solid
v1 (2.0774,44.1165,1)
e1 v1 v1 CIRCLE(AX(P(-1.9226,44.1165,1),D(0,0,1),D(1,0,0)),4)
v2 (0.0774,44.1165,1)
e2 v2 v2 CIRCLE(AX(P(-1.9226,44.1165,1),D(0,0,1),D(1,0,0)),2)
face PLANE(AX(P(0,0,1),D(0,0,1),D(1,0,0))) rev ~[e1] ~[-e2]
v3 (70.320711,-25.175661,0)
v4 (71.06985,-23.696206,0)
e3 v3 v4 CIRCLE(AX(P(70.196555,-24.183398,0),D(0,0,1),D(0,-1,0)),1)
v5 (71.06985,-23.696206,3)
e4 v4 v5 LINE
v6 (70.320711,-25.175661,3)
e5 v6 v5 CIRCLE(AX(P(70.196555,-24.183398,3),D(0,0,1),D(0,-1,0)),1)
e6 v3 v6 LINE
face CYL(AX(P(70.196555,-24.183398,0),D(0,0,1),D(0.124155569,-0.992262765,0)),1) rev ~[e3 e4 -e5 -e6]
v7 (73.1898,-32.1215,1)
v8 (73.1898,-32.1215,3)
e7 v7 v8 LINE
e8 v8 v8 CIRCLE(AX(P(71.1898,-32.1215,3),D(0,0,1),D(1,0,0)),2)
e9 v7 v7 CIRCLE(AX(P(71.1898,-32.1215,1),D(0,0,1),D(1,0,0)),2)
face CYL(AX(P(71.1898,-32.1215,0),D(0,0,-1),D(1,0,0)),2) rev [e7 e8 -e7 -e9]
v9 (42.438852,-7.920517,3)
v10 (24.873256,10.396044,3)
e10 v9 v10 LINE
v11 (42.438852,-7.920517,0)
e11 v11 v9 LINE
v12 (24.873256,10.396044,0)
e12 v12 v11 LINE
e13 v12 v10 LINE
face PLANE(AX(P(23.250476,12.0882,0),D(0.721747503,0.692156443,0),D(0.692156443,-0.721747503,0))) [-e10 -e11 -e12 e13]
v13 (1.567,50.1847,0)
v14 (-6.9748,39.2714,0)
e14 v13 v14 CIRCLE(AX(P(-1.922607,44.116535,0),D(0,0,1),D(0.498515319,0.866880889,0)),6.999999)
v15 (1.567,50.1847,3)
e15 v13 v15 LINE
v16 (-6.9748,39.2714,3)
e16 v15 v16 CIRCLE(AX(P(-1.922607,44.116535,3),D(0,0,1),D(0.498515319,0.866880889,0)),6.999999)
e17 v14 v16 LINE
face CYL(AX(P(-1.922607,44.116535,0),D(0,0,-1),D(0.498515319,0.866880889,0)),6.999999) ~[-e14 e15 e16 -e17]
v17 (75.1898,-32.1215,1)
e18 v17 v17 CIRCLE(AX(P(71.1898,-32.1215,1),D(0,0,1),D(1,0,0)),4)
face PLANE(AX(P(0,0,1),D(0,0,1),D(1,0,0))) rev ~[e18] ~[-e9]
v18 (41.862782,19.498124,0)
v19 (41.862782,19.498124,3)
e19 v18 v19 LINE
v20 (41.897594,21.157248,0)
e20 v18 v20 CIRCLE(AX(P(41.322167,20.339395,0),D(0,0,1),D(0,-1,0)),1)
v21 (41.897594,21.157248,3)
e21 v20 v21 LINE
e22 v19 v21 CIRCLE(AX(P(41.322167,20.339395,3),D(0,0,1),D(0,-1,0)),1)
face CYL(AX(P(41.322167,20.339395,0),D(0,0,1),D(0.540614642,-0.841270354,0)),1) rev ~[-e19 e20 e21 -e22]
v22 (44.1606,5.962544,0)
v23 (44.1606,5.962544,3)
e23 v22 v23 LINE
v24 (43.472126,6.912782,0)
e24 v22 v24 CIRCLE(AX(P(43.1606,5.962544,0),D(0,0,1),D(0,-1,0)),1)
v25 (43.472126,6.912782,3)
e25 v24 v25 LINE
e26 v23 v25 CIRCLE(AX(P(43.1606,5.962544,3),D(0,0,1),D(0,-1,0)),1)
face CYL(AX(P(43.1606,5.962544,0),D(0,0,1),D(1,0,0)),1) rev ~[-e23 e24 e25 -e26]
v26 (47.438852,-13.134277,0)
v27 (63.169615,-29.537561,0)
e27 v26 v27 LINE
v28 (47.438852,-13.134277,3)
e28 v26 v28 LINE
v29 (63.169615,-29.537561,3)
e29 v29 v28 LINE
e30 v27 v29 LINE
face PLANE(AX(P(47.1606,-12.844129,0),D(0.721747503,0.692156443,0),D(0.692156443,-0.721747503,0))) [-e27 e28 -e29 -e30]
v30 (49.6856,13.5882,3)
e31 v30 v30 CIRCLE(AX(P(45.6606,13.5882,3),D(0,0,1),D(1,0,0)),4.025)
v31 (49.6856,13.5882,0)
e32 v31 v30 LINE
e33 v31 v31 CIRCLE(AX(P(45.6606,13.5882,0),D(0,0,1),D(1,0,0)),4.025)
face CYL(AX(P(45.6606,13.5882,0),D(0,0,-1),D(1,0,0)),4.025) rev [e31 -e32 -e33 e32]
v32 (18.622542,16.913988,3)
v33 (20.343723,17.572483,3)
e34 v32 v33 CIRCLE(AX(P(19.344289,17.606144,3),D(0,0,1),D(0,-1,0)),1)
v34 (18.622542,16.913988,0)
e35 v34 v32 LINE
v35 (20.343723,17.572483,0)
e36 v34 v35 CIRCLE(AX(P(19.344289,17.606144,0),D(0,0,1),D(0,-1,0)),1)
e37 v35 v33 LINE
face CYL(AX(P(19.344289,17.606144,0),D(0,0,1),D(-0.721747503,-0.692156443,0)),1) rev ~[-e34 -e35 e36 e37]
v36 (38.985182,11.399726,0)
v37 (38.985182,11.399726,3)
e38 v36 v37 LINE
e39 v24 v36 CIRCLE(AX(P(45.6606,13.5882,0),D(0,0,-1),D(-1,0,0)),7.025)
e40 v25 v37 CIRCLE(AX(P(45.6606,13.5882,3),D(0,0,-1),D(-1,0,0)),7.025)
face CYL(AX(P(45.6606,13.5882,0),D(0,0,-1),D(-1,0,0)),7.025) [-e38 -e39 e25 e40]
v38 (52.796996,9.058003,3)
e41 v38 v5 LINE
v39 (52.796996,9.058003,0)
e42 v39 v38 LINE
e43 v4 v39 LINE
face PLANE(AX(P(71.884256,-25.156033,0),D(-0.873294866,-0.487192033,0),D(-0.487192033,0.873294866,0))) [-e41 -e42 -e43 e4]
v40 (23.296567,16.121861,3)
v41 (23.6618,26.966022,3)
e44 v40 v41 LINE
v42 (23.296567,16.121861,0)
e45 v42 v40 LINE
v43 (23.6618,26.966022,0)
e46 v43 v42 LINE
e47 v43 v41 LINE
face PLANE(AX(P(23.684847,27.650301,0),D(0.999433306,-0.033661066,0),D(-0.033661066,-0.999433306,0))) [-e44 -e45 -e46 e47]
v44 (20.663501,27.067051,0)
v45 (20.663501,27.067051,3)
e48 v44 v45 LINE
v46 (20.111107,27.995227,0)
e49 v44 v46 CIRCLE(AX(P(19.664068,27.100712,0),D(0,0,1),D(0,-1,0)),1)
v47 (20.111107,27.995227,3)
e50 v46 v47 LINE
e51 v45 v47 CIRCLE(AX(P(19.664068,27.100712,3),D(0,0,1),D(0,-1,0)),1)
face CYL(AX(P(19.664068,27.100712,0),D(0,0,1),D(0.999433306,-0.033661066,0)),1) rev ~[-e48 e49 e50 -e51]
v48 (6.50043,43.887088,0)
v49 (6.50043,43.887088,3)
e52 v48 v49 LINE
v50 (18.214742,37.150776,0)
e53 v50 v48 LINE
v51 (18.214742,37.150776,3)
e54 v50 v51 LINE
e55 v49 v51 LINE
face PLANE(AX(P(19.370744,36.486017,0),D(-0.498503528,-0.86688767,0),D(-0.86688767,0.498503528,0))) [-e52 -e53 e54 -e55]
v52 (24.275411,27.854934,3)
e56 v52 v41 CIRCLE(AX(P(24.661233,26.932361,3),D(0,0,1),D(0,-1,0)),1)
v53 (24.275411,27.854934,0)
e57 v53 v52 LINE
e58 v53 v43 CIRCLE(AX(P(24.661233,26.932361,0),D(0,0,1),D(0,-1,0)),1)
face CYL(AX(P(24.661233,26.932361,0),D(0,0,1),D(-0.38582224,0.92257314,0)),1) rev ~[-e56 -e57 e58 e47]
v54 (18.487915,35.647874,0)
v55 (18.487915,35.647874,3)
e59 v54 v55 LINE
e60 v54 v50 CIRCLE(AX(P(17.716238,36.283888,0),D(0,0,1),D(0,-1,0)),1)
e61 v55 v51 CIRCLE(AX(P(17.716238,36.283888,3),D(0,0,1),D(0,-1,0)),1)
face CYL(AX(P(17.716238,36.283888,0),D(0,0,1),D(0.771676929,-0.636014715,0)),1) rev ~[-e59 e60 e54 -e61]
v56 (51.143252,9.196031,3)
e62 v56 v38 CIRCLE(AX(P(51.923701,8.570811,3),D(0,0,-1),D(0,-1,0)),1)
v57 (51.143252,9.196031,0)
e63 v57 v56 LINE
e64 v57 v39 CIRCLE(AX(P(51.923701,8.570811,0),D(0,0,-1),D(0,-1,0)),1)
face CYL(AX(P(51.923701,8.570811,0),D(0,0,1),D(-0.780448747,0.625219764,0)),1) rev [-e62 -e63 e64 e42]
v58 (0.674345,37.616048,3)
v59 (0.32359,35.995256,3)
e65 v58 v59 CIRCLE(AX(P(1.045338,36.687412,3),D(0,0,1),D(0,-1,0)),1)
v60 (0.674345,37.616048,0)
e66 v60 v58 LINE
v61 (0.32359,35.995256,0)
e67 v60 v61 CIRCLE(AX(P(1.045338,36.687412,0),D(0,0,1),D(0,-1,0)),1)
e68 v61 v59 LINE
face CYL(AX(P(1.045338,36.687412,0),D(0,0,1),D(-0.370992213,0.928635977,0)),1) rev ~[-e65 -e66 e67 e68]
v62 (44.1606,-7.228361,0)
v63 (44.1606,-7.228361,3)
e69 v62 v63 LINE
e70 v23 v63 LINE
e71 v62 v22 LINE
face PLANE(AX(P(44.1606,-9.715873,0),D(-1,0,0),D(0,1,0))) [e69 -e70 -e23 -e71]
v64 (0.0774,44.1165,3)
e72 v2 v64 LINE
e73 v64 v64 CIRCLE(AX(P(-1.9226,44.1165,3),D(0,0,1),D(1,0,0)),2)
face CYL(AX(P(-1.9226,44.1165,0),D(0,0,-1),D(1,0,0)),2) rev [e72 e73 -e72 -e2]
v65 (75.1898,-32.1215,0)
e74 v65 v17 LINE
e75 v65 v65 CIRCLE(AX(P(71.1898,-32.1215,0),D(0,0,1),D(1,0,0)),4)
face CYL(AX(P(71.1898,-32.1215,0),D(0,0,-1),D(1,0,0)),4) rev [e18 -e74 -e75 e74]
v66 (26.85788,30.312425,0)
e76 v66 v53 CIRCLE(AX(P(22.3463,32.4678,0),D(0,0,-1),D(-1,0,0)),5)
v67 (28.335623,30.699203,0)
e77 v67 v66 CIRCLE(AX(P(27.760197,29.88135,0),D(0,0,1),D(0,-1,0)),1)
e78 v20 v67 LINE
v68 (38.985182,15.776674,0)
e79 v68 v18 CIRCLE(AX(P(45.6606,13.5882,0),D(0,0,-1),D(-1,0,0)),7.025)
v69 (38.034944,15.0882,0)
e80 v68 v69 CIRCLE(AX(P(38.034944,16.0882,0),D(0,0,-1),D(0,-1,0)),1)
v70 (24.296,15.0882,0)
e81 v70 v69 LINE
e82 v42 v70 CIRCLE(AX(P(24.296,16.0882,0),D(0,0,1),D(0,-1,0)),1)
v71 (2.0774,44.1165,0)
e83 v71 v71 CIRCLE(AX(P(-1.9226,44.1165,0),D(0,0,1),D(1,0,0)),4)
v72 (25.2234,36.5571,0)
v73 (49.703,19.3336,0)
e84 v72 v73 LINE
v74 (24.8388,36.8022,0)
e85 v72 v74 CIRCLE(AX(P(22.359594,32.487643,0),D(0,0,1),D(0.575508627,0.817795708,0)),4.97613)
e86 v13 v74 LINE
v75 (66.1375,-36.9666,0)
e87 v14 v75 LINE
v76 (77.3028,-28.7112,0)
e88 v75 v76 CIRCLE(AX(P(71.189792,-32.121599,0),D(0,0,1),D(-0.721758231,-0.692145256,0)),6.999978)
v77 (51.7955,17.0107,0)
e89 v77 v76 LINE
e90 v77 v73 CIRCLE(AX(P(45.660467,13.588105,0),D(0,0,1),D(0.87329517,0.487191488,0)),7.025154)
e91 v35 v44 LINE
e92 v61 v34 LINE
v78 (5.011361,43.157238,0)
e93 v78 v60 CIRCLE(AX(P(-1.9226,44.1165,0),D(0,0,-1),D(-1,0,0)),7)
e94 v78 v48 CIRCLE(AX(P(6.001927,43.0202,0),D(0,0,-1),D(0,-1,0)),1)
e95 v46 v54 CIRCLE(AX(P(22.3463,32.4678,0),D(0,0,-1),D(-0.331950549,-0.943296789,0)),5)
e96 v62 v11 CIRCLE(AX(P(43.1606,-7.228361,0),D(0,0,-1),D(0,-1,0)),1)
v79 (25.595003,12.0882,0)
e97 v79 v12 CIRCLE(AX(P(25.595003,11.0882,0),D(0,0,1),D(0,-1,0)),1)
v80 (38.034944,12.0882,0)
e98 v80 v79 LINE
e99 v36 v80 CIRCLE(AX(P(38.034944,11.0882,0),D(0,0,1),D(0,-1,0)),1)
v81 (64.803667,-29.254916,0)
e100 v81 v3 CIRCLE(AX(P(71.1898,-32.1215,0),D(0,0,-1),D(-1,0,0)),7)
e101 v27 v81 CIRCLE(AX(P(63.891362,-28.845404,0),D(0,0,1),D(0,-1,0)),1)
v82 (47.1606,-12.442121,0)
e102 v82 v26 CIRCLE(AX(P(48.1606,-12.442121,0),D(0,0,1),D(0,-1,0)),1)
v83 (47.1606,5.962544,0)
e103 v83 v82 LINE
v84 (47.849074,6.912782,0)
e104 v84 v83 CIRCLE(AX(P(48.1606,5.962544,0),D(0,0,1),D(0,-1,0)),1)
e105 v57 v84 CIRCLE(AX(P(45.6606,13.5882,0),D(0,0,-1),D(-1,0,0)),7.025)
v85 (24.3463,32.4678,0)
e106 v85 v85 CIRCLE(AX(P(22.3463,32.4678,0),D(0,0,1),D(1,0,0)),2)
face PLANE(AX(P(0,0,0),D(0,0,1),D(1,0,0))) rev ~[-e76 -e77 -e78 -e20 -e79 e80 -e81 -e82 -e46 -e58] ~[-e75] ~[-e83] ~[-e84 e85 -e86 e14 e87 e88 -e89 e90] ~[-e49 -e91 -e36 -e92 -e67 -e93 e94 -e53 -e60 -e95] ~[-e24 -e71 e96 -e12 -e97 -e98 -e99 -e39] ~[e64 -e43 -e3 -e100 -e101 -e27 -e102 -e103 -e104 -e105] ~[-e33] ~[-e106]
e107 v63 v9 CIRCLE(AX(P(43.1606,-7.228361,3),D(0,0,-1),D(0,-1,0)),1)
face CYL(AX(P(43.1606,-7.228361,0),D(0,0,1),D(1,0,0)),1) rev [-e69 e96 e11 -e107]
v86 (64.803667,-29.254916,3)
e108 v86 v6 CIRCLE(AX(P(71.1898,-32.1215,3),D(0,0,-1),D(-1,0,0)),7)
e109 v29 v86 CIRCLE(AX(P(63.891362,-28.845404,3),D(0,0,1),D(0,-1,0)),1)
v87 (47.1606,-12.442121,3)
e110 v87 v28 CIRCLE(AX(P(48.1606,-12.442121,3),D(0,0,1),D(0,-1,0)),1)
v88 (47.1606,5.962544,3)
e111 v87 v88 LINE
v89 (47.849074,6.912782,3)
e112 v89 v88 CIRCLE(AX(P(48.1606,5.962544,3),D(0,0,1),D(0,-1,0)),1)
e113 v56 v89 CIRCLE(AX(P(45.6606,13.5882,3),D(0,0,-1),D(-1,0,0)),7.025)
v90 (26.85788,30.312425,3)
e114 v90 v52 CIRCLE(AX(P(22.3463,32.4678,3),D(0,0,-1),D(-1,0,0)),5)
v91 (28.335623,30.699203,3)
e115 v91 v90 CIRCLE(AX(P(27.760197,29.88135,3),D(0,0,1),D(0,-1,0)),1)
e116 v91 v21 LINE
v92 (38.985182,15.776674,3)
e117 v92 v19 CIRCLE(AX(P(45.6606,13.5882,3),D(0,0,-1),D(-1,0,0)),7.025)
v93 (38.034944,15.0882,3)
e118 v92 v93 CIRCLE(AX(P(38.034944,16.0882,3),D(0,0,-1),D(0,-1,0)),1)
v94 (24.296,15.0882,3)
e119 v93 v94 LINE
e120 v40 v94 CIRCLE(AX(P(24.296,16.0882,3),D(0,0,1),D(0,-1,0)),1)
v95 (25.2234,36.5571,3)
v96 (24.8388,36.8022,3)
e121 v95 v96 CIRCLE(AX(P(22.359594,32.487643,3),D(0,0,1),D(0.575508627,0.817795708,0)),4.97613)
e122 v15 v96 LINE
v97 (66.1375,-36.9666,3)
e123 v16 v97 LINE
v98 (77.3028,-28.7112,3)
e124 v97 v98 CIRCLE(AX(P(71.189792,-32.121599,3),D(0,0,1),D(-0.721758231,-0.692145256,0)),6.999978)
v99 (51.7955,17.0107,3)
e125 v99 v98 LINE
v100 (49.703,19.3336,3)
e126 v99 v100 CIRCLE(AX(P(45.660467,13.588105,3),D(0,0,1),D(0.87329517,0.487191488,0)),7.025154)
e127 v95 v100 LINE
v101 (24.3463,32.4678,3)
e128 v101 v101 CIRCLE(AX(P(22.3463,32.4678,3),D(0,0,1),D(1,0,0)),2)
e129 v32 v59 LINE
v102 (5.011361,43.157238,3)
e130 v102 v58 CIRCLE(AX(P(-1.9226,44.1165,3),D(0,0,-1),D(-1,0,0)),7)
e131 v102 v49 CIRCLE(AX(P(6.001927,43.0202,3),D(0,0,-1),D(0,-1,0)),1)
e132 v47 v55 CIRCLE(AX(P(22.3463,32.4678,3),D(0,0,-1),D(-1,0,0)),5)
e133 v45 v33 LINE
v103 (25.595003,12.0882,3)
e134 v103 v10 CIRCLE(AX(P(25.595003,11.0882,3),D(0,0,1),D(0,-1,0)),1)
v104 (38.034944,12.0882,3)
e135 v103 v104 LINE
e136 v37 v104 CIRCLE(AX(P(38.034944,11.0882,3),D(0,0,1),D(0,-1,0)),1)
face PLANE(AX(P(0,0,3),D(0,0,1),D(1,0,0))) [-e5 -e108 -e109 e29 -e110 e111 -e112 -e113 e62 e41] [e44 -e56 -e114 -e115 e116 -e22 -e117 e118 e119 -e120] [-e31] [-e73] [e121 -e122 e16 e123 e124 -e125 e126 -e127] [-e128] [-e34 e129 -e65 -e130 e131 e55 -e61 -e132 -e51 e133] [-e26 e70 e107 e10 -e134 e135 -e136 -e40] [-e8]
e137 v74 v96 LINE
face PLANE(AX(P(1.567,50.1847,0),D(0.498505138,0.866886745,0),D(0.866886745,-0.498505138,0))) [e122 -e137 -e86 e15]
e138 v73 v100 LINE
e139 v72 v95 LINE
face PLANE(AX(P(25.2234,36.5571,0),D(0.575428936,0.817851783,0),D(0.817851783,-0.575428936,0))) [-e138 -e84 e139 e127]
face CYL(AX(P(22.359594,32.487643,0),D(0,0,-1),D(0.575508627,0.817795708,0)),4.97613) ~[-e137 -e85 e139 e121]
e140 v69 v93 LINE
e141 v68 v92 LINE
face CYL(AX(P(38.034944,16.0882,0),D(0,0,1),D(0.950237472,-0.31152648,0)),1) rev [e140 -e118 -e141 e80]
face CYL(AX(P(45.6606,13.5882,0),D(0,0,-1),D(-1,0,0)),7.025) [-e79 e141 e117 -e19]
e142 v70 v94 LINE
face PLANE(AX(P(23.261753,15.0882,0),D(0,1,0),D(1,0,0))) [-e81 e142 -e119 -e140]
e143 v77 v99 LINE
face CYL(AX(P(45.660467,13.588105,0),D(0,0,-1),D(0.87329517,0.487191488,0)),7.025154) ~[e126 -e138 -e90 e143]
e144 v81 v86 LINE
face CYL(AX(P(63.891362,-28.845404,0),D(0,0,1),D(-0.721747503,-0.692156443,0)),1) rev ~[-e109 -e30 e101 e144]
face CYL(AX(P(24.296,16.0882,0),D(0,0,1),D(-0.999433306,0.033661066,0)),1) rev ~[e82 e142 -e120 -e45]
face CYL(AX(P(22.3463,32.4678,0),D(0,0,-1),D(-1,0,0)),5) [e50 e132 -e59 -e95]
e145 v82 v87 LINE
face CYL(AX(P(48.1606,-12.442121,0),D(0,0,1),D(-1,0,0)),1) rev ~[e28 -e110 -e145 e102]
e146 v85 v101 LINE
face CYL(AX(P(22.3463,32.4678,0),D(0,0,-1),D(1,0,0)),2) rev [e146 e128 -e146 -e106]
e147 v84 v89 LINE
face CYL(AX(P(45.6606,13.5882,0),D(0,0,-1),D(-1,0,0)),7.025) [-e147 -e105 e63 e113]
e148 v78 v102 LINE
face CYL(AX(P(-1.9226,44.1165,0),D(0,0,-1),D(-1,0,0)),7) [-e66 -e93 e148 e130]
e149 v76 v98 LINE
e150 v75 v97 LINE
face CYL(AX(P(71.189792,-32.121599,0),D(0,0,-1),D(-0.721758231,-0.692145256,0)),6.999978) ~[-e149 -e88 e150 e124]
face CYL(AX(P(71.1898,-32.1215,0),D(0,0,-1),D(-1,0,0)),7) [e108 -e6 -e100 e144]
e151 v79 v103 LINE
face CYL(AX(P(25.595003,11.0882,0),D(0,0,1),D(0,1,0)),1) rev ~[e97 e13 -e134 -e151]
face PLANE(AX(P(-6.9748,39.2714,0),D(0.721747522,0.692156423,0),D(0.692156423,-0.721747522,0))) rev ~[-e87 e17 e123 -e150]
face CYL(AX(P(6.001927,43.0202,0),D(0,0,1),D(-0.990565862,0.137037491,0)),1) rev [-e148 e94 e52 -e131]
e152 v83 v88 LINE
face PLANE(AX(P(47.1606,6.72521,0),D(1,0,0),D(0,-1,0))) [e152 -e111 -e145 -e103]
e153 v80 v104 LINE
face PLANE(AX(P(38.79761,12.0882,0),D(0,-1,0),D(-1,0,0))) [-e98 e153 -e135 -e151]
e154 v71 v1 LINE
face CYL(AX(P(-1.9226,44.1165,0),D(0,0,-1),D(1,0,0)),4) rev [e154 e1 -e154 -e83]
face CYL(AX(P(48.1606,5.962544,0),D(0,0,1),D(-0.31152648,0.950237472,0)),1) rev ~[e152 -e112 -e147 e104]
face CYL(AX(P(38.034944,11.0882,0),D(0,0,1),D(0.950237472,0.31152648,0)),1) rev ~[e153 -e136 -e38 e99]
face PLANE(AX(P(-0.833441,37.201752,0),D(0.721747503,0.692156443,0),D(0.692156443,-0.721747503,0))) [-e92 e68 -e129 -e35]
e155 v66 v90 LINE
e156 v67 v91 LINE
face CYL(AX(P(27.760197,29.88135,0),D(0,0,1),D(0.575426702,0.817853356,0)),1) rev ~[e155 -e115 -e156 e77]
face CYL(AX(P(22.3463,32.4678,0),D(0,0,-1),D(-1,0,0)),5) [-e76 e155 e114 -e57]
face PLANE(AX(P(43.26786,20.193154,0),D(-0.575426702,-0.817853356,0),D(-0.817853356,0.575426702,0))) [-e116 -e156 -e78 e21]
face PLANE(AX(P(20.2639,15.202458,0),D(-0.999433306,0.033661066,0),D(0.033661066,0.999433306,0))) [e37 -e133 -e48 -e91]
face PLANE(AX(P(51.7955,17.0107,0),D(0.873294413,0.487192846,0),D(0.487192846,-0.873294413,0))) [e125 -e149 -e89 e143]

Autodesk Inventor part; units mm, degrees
ref_plane "YZ Plane" through (0, 0, 0) normal (1, 0, 0) x (0, 1, 0)
ref_plane "XZ Plane" through (0, 0, 0) normal (0, 1, 0) x (-1, 0, 0)
ref_plane "XY Plane" through (0, 0, 0) normal (0, 0, 1) x (1, 0, 0)
sketch "スケッチ1" plane through (0, 0, 0) normal (0, 0, 1) x (1, 0, 0)
  circle A0 centre (-1.9226, 44.1165) radius 4
  circle A1 centre (71.1898, -32.1215) radius 4
  circle A2 centre (71.1898, -32.1215) radius 2
  circle A3 centre (-1.9226, 44.1165) radius 2
  circle A4 centre (22.3463, 32.4678) radius 2
  circle A5 centre (45.6606, 13.5882) radius 4.025
  arc A6 (1.567, 50.1847) -> (-6.9748, 39.2714) centre (-1.9226, 44.1165) ccw
  arc A7 (66.1375, -36.9666) -> (77.3028, -28.7112) centre (71.1898, -32.1215) ccw
  arc A8 (51.7955, 17.0107) -> (49.703, 19.3336) centre (45.6606, 13.5882) ccw
  arc A9 (25.2234, 36.5571) -> (24.8388, 36.8022) centre (22.3463, 32.4678) ccw
  line L0 (1.567, 50.1847) -> (24.8388, 36.8022)
  line L1 (25.2234, 36.5571) -> (49.703, 19.3336)
  line L2 (51.7955, 17.0107) -> (77.3028, -28.7112)
  line L3 (-6.9748, 39.2714) -> (66.1375, -36.9666)
  point P0 (0, 0)
  point P1 (0, 0)
  dimension "d0" = 3
  dimension "d1" = 3
  dimension "d2" = 3
  dimension "d3" = 3
extrude "押し出し1" add sketch "スケッチ1" along normal blind 3 contours A0 | A1 | L0 A9 L1 A8 L2 A7 L3 A6
extrude "押し出し2" cut sketch "スケッチ1" along normal blind 1 contours A0 | A1
sketch "スケッチ2" plane through (0, 0, 0) normal (0, 0, -1) x (-1, 0, 0)
  circle A0 centre (1.9226, 44.1165) radius 4 projected
  circle A1 centre (-71.1898, -32.1215) radius 4 projected
  arc A2 (-77.3028, -28.7112) -> (-66.1375, -36.9666) centre (-71.1898, -32.1215) ccw projected
  line L0 (6.9748, 39.2714) -> (-66.1375, -36.9666) projected
  arc A3 (6.9748, 39.2714) -> (-1.567, 50.1847) centre (1.9226, 44.1165) ccw projected
  line L1 (-24.8388, 36.8022) -> (-1.567, 50.1847) projected
  arc A4 (-24.8388, 36.8022) -> (-25.2234, 36.5571) centre (-22.3463, 32.4678) ccw projected
  line L2 (-49.703, 19.3336) -> (-25.2234, 36.5571) projected
  arc A5 (-49.703, 19.3336) -> (-51.7955, 17.0107) centre (-45.6606, 13.5882) ccw projected
  line L3 (-77.3028, -28.7112) -> (-51.7955, 17.0107) projected
  circle A6 centre (-22.3463, 32.4678) radius 2 projected
  circle A7 centre (-45.6606, 13.5882) radius 4.025 projected
  arc A8 (-23.3433, 34.2016) -> (-23.4971, 34.1035) centre (-22.3463, 32.4678) ccw
  line L4 (-23.3433, 34.2016) -> (-0.0714, 47.5841)
  arc A9 (4.8096, 41.3479) -> (-0.0714, 47.5841) centre (1.9226, 44.1165) ccw
  line L5 (4.8096, 41.3479) -> (-68.3028, -34.8902)
  arc A10 (-74.683, -30.1728) -> (-68.3028, -34.8902) centre (-71.1898, -32.1215) ccw
  line L6 (-74.683, -30.1728) -> (-49.1757, 15.5492)
  arc A11 (-47.9767, 16.8801) -> (-49.1757, 15.5492) centre (-45.6606, 13.5882) ccw
  line L7 (-47.9767, 16.8801) -> (-23.4971, 34.1035)
  circle A12 centre (1.9226, 44.1165) radius 7
  circle A13 centre (-71.1898, -32.1215) radius 7
  circle A14 centre (-45.6606, 13.5882) radius 7.025
  circle A15 centre (-22.3463, 32.4678) radius 5
  line L8 (-45.6606, 13.5882) -> (-5.0774, 13.5882) construction
  line L9 (-45.6606, 12.0882) -> (-5.0774, 12.0882)
  line L10 (-5.0774, 15.0882) -> (-45.6606, 15.0882)
  arc A16 (-45.6606, 15.0882) -> (-45.6606, 12.0882) centre (-45.6606, 13.5882) ccw
  arc A17 (-5.0774, 12.0882) -> (-5.0774, 15.0882) centre (-5.0774, 13.5882) ccw
  line L11 (-45.6606, 13.5882) -> (-45.6606, -36.9666) construction
  line L12 (-47.1606, 13.5882) -> (-47.1606, -36.9666)
  line L13 (-44.1606, -36.9666) -> (-44.1606, 13.5882)
  arc A18 (-44.1606, 13.5882) -> (-47.1606, 13.5882) centre (-45.6606, 13.5882) ccw
  arc A19 (-47.1606, -36.9666) -> (-44.1606, -36.9666) centre (-45.6606, -36.9666) ccw
  line L14 (-22.3463, 32.4678) -> (-21.0148, -7.0629) construction
  line L15 (-23.8454, 32.4173) -> (-22.514, -7.1134)
  line L16 (-19.5157, -7.0124) -> (-20.8471, 32.5183)
  arc A20 (-20.8471, 32.5183) -> (-23.8454, 32.4173) centre (-22.3463, 32.4678) ccw
  arc A21 (-22.514, -7.1134) -> (-19.5157, -7.0124) centre (-21.0148, -7.0629) ccw
  point P0 (0, 0)
  point P1 (-25.369, 13.5882)
  point P2 (-45.6606, -11.6892)
  point P3 (-38.7977, 15.0882)
  point P4 (-20.3735, 15.0882)
  point P5 (0.8334, 37.2018)
  point P6 (-5.0513, 44.7204)
  point P7 (-19.3707, 36.486)
  point P8 (-27.245, 31.4666)
  point P9 (-43.2679, 20.1931)
  point P10 (-44.1606, 6.7252)
  point P11 (-44.1606, -9.7159)
  point P12 (-23.2505, 12.0882)
  point P13 (-38.7977, 12.0882)
  point P14 (-47.1606, -12.8441)
  point P15 (-47.1606, 6.7252)
  point P16 (-51.9807, 10.5211)
  point P17 (-71.8842, -25.1561)
  point P18 (-64.3266, -30.744)
  point P19 (-21.6805, 12.7025)
  point P20 (-23.2618, 15.0882)
  point P21 (-23.6849, 27.6503)
  point P22 (-20.6866, 27.7513)
  point P23 (-20.2639, 15.2025)
  dimension "d8" = 3
  dimension "d9" = 3
  dimension "d10" = 3
  dimension "d11" = 3
  dimension "d12" = 3
  dimension "d13" = 3
  dimension "d14" = 3
  dimension "d17" = 3
extrude "押し出し3" cut sketch "スケッチ2" against normal through all contours A12 L5 L16 A15 L4 | L10 A14 L7 A15 L15 | L5 L13 A14 L9 | A14 L12 L5 A13 L6
fillet "フィレット1" radius 1 19 edges at (71.8842, -25.1561, 1.5) (64.3266, -30.744, 1.5) (47.1606, -12.8441, 1.5) (47.1606, 6.7252, 1.5) (51.9807, 10.5211, 1.5) (44.1606, 6.7252, 1.5) (44.1606, -9.7159, 1.5) (23.2505, 12.0882, 1.5) (23.2618, 15.0882, 1.5) (38.7977, 12.0882, 1.5) (38.7977, 15.0882, 1.5) (43.2679, 20.1931, 1.5) (23.6849, 27.6503, 1.5) (27.245, 31.4666, 1.5) (20.2639, 15.2025, 1.5) (20.6866, 27.7513, 1.5) (19.3707, 36.486, 1.5) (5.0513, 44.7204, 1.5) (-0.8334, 37.2018, 1.5)
sketch "スケッチ3" plane through (0, 0, 0) normal (0, 0, -1) x (-1, 0, 0)
  arc A0 (-64.8037, -29.2549) -> (-70.3207, -25.1757) centre (-71.1898, -32.1215) ccw projected
  arc A1 (-71.0698, -23.6962) -> (-70.3207, -25.1757) centre (-70.1965, -24.1834) ccw projected
  line L0 (-71.0698, -23.6962) -> (-52.797, 9.0579) projected
  arc A2 (-51.1432, 9.196) -> (-52.797, 9.0579) centre (-51.9237, 8.5707) ccw projected
  arc A3 (-51.1432, 9.196) -> (-47.8491, 6.9128) centre (-45.6606, 13.5882) ccw projected
  arc A4 (-47.1606, 5.9625) -> (-47.8491, 6.9128) centre (-48.1606, 5.9625) ccw projected
  line L1 (-47.1606, 5.9625) -> (-47.1606, -12.4421) projected
  arc A5 (-47.4389, -13.1343) -> (-47.1606, -12.4421) centre (-48.1606, -12.4421) ccw projected
  line L2 (-47.4389, -13.1343) -> (-63.1696, -29.5375) projected
  arc A6 (-64.8037, -29.2549) -> (-63.1696, -29.5375) centre (-63.8914, -28.8454) ccw projected
  line L3 (-24.296, 15.0882) -> (-38.035, 15.0882) projected
  arc A7 (-38.9852, 15.7767) -> (-38.035, 15.0882) centre (-38.035, 16.0882) ccw projected
  arc A8 (-38.9852, 15.7767) -> (-41.8628, 19.4981) centre (-45.6606, 13.5882) ccw projected
  arc A9 (-41.8976, 21.1572) -> (-41.8628, 19.4981) centre (-41.3222, 20.3394) ccw projected
  line L4 (-41.8976, 21.1572) -> (-28.3356, 30.6992) projected
  arc A10 (-26.8579, 30.3125) -> (-28.3356, 30.6992) centre (-27.7602, 29.8814) ccw projected
  arc A11 (-26.8579, 30.3125) -> (-24.2754, 27.855) centre (-22.3463, 32.4678) ccw projected
  arc A12 (-23.6618, 26.9661) -> (-24.2754, 27.855) centre (-24.6612, 26.9324) ccw projected
  line L5 (-23.6618, 26.9661) -> (-23.2966, 16.1219) projected
  arc A13 (-24.296, 15.0882) -> (-23.2966, 16.1219) centre (-24.296, 16.0882) ccw projected
  line L6 (-44.1606, -7.2284) -> (-44.1606, 5.9625) projected
  arc A14 (-43.4722, 6.9128) -> (-44.1606, 5.9625) centre (-43.1606, 5.9625) ccw projected
  arc A15 (-43.4722, 6.9128) -> (-38.9852, 11.3997) centre (-45.6606, 13.5882) ccw projected
  arc A16 (-38.035, 12.0882) -> (-38.9852, 11.3997) centre (-38.035, 11.0882) ccw projected
  line L7 (-38.035, 12.0882) -> (-25.595, 12.0882) projected
  arc A17 (-24.8733, 10.396) -> (-25.595, 12.0882) centre (-25.595, 11.0882) ccw projected
  line L8 (-24.8733, 10.396) -> (-42.4389, -7.9205) projected
  arc A18 (-44.1606, -7.2284) -> (-42.4389, -7.9205) centre (-43.1606, -7.2284) ccw projected
  line L9 (-18.2147, 37.1508) -> (-6.5004, 43.8871) projected
  arc A19 (-5.0114, 43.1572) -> (-6.5004, 43.8871) centre (-6.0019, 43.0202) ccw projected
  arc A20 (-5.0114, 43.1572) -> (-0.6744, 37.6161) centre (1.9226, 44.1165) ccw projected
  arc A21 (-0.3236, 35.9953) -> (-0.6744, 37.6161) centre (-1.0454, 36.6874) ccw projected
  line L10 (-0.3236, 35.9953) -> (-18.6225, 16.914) projected
  arc A22 (-20.3437, 17.5725) -> (-18.6225, 16.914) centre (-19.3443, 17.6062) ccw projected
  line L11 (-20.3437, 17.5725) -> (-20.6635, 27.067) projected
  arc A23 (-20.1111, 27.9952) -> (-20.6635, 27.067) centre (-19.6641, 27.1007) ccw projected
  arc A24 (-20.1111, 27.9952) -> (-18.4879, 35.6479) centre (-22.3463, 32.4678) ccw projected
  arc A25 (-18.2147, 37.1508) -> (-18.4879, 35.6479) centre (-17.7162, 36.2839) ccw projected
  circle A26 centre (1.9226, 44.1165) radius 4 projected
  circle A27 centre (-71.1898, -32.1215) radius 4 projected
  arc A28 (-77.3028, -28.7112) -> (-66.1375, -36.9666) centre (-71.1898, -32.1215) ccw projected
  line L12 (6.9748, 39.2714) -> (-66.1375, -36.9666) projected
  arc A29 (6.9748, 39.2714) -> (-1.567, 50.1847) centre (1.9226, 44.1165) ccw projected
  line L13 (-24.8388, 36.8022) -> (-1.567, 50.1847) projected
  arc A30 (-24.8388, 36.8022) -> (-25.2234, 36.5571) centre (-22.3463, 32.4678) ccw projected
  line L14 (-49.703, 19.3336) -> (-25.2234, 36.5571) projected
  arc A31 (-49.703, 19.3336) -> (-51.7955, 17.0107) centre (-45.6606, 13.5882) ccw projected
  line L15 (-77.3028, -28.7112) -> (-51.7955, 17.0107) projected
  circle A32 centre (-22.3463, 32.4678) radius 2 projected
  circle A33 centre (-45.6606, 13.5882) radius 4.025 projected
  circle A34 centre (1.9226, 44.1165) radius 2 projected
  circle A35 centre (-71.1898, -32.1215) radius 2 projected
  point P0 (0, 0)
properties part number "アームフレーム小"
